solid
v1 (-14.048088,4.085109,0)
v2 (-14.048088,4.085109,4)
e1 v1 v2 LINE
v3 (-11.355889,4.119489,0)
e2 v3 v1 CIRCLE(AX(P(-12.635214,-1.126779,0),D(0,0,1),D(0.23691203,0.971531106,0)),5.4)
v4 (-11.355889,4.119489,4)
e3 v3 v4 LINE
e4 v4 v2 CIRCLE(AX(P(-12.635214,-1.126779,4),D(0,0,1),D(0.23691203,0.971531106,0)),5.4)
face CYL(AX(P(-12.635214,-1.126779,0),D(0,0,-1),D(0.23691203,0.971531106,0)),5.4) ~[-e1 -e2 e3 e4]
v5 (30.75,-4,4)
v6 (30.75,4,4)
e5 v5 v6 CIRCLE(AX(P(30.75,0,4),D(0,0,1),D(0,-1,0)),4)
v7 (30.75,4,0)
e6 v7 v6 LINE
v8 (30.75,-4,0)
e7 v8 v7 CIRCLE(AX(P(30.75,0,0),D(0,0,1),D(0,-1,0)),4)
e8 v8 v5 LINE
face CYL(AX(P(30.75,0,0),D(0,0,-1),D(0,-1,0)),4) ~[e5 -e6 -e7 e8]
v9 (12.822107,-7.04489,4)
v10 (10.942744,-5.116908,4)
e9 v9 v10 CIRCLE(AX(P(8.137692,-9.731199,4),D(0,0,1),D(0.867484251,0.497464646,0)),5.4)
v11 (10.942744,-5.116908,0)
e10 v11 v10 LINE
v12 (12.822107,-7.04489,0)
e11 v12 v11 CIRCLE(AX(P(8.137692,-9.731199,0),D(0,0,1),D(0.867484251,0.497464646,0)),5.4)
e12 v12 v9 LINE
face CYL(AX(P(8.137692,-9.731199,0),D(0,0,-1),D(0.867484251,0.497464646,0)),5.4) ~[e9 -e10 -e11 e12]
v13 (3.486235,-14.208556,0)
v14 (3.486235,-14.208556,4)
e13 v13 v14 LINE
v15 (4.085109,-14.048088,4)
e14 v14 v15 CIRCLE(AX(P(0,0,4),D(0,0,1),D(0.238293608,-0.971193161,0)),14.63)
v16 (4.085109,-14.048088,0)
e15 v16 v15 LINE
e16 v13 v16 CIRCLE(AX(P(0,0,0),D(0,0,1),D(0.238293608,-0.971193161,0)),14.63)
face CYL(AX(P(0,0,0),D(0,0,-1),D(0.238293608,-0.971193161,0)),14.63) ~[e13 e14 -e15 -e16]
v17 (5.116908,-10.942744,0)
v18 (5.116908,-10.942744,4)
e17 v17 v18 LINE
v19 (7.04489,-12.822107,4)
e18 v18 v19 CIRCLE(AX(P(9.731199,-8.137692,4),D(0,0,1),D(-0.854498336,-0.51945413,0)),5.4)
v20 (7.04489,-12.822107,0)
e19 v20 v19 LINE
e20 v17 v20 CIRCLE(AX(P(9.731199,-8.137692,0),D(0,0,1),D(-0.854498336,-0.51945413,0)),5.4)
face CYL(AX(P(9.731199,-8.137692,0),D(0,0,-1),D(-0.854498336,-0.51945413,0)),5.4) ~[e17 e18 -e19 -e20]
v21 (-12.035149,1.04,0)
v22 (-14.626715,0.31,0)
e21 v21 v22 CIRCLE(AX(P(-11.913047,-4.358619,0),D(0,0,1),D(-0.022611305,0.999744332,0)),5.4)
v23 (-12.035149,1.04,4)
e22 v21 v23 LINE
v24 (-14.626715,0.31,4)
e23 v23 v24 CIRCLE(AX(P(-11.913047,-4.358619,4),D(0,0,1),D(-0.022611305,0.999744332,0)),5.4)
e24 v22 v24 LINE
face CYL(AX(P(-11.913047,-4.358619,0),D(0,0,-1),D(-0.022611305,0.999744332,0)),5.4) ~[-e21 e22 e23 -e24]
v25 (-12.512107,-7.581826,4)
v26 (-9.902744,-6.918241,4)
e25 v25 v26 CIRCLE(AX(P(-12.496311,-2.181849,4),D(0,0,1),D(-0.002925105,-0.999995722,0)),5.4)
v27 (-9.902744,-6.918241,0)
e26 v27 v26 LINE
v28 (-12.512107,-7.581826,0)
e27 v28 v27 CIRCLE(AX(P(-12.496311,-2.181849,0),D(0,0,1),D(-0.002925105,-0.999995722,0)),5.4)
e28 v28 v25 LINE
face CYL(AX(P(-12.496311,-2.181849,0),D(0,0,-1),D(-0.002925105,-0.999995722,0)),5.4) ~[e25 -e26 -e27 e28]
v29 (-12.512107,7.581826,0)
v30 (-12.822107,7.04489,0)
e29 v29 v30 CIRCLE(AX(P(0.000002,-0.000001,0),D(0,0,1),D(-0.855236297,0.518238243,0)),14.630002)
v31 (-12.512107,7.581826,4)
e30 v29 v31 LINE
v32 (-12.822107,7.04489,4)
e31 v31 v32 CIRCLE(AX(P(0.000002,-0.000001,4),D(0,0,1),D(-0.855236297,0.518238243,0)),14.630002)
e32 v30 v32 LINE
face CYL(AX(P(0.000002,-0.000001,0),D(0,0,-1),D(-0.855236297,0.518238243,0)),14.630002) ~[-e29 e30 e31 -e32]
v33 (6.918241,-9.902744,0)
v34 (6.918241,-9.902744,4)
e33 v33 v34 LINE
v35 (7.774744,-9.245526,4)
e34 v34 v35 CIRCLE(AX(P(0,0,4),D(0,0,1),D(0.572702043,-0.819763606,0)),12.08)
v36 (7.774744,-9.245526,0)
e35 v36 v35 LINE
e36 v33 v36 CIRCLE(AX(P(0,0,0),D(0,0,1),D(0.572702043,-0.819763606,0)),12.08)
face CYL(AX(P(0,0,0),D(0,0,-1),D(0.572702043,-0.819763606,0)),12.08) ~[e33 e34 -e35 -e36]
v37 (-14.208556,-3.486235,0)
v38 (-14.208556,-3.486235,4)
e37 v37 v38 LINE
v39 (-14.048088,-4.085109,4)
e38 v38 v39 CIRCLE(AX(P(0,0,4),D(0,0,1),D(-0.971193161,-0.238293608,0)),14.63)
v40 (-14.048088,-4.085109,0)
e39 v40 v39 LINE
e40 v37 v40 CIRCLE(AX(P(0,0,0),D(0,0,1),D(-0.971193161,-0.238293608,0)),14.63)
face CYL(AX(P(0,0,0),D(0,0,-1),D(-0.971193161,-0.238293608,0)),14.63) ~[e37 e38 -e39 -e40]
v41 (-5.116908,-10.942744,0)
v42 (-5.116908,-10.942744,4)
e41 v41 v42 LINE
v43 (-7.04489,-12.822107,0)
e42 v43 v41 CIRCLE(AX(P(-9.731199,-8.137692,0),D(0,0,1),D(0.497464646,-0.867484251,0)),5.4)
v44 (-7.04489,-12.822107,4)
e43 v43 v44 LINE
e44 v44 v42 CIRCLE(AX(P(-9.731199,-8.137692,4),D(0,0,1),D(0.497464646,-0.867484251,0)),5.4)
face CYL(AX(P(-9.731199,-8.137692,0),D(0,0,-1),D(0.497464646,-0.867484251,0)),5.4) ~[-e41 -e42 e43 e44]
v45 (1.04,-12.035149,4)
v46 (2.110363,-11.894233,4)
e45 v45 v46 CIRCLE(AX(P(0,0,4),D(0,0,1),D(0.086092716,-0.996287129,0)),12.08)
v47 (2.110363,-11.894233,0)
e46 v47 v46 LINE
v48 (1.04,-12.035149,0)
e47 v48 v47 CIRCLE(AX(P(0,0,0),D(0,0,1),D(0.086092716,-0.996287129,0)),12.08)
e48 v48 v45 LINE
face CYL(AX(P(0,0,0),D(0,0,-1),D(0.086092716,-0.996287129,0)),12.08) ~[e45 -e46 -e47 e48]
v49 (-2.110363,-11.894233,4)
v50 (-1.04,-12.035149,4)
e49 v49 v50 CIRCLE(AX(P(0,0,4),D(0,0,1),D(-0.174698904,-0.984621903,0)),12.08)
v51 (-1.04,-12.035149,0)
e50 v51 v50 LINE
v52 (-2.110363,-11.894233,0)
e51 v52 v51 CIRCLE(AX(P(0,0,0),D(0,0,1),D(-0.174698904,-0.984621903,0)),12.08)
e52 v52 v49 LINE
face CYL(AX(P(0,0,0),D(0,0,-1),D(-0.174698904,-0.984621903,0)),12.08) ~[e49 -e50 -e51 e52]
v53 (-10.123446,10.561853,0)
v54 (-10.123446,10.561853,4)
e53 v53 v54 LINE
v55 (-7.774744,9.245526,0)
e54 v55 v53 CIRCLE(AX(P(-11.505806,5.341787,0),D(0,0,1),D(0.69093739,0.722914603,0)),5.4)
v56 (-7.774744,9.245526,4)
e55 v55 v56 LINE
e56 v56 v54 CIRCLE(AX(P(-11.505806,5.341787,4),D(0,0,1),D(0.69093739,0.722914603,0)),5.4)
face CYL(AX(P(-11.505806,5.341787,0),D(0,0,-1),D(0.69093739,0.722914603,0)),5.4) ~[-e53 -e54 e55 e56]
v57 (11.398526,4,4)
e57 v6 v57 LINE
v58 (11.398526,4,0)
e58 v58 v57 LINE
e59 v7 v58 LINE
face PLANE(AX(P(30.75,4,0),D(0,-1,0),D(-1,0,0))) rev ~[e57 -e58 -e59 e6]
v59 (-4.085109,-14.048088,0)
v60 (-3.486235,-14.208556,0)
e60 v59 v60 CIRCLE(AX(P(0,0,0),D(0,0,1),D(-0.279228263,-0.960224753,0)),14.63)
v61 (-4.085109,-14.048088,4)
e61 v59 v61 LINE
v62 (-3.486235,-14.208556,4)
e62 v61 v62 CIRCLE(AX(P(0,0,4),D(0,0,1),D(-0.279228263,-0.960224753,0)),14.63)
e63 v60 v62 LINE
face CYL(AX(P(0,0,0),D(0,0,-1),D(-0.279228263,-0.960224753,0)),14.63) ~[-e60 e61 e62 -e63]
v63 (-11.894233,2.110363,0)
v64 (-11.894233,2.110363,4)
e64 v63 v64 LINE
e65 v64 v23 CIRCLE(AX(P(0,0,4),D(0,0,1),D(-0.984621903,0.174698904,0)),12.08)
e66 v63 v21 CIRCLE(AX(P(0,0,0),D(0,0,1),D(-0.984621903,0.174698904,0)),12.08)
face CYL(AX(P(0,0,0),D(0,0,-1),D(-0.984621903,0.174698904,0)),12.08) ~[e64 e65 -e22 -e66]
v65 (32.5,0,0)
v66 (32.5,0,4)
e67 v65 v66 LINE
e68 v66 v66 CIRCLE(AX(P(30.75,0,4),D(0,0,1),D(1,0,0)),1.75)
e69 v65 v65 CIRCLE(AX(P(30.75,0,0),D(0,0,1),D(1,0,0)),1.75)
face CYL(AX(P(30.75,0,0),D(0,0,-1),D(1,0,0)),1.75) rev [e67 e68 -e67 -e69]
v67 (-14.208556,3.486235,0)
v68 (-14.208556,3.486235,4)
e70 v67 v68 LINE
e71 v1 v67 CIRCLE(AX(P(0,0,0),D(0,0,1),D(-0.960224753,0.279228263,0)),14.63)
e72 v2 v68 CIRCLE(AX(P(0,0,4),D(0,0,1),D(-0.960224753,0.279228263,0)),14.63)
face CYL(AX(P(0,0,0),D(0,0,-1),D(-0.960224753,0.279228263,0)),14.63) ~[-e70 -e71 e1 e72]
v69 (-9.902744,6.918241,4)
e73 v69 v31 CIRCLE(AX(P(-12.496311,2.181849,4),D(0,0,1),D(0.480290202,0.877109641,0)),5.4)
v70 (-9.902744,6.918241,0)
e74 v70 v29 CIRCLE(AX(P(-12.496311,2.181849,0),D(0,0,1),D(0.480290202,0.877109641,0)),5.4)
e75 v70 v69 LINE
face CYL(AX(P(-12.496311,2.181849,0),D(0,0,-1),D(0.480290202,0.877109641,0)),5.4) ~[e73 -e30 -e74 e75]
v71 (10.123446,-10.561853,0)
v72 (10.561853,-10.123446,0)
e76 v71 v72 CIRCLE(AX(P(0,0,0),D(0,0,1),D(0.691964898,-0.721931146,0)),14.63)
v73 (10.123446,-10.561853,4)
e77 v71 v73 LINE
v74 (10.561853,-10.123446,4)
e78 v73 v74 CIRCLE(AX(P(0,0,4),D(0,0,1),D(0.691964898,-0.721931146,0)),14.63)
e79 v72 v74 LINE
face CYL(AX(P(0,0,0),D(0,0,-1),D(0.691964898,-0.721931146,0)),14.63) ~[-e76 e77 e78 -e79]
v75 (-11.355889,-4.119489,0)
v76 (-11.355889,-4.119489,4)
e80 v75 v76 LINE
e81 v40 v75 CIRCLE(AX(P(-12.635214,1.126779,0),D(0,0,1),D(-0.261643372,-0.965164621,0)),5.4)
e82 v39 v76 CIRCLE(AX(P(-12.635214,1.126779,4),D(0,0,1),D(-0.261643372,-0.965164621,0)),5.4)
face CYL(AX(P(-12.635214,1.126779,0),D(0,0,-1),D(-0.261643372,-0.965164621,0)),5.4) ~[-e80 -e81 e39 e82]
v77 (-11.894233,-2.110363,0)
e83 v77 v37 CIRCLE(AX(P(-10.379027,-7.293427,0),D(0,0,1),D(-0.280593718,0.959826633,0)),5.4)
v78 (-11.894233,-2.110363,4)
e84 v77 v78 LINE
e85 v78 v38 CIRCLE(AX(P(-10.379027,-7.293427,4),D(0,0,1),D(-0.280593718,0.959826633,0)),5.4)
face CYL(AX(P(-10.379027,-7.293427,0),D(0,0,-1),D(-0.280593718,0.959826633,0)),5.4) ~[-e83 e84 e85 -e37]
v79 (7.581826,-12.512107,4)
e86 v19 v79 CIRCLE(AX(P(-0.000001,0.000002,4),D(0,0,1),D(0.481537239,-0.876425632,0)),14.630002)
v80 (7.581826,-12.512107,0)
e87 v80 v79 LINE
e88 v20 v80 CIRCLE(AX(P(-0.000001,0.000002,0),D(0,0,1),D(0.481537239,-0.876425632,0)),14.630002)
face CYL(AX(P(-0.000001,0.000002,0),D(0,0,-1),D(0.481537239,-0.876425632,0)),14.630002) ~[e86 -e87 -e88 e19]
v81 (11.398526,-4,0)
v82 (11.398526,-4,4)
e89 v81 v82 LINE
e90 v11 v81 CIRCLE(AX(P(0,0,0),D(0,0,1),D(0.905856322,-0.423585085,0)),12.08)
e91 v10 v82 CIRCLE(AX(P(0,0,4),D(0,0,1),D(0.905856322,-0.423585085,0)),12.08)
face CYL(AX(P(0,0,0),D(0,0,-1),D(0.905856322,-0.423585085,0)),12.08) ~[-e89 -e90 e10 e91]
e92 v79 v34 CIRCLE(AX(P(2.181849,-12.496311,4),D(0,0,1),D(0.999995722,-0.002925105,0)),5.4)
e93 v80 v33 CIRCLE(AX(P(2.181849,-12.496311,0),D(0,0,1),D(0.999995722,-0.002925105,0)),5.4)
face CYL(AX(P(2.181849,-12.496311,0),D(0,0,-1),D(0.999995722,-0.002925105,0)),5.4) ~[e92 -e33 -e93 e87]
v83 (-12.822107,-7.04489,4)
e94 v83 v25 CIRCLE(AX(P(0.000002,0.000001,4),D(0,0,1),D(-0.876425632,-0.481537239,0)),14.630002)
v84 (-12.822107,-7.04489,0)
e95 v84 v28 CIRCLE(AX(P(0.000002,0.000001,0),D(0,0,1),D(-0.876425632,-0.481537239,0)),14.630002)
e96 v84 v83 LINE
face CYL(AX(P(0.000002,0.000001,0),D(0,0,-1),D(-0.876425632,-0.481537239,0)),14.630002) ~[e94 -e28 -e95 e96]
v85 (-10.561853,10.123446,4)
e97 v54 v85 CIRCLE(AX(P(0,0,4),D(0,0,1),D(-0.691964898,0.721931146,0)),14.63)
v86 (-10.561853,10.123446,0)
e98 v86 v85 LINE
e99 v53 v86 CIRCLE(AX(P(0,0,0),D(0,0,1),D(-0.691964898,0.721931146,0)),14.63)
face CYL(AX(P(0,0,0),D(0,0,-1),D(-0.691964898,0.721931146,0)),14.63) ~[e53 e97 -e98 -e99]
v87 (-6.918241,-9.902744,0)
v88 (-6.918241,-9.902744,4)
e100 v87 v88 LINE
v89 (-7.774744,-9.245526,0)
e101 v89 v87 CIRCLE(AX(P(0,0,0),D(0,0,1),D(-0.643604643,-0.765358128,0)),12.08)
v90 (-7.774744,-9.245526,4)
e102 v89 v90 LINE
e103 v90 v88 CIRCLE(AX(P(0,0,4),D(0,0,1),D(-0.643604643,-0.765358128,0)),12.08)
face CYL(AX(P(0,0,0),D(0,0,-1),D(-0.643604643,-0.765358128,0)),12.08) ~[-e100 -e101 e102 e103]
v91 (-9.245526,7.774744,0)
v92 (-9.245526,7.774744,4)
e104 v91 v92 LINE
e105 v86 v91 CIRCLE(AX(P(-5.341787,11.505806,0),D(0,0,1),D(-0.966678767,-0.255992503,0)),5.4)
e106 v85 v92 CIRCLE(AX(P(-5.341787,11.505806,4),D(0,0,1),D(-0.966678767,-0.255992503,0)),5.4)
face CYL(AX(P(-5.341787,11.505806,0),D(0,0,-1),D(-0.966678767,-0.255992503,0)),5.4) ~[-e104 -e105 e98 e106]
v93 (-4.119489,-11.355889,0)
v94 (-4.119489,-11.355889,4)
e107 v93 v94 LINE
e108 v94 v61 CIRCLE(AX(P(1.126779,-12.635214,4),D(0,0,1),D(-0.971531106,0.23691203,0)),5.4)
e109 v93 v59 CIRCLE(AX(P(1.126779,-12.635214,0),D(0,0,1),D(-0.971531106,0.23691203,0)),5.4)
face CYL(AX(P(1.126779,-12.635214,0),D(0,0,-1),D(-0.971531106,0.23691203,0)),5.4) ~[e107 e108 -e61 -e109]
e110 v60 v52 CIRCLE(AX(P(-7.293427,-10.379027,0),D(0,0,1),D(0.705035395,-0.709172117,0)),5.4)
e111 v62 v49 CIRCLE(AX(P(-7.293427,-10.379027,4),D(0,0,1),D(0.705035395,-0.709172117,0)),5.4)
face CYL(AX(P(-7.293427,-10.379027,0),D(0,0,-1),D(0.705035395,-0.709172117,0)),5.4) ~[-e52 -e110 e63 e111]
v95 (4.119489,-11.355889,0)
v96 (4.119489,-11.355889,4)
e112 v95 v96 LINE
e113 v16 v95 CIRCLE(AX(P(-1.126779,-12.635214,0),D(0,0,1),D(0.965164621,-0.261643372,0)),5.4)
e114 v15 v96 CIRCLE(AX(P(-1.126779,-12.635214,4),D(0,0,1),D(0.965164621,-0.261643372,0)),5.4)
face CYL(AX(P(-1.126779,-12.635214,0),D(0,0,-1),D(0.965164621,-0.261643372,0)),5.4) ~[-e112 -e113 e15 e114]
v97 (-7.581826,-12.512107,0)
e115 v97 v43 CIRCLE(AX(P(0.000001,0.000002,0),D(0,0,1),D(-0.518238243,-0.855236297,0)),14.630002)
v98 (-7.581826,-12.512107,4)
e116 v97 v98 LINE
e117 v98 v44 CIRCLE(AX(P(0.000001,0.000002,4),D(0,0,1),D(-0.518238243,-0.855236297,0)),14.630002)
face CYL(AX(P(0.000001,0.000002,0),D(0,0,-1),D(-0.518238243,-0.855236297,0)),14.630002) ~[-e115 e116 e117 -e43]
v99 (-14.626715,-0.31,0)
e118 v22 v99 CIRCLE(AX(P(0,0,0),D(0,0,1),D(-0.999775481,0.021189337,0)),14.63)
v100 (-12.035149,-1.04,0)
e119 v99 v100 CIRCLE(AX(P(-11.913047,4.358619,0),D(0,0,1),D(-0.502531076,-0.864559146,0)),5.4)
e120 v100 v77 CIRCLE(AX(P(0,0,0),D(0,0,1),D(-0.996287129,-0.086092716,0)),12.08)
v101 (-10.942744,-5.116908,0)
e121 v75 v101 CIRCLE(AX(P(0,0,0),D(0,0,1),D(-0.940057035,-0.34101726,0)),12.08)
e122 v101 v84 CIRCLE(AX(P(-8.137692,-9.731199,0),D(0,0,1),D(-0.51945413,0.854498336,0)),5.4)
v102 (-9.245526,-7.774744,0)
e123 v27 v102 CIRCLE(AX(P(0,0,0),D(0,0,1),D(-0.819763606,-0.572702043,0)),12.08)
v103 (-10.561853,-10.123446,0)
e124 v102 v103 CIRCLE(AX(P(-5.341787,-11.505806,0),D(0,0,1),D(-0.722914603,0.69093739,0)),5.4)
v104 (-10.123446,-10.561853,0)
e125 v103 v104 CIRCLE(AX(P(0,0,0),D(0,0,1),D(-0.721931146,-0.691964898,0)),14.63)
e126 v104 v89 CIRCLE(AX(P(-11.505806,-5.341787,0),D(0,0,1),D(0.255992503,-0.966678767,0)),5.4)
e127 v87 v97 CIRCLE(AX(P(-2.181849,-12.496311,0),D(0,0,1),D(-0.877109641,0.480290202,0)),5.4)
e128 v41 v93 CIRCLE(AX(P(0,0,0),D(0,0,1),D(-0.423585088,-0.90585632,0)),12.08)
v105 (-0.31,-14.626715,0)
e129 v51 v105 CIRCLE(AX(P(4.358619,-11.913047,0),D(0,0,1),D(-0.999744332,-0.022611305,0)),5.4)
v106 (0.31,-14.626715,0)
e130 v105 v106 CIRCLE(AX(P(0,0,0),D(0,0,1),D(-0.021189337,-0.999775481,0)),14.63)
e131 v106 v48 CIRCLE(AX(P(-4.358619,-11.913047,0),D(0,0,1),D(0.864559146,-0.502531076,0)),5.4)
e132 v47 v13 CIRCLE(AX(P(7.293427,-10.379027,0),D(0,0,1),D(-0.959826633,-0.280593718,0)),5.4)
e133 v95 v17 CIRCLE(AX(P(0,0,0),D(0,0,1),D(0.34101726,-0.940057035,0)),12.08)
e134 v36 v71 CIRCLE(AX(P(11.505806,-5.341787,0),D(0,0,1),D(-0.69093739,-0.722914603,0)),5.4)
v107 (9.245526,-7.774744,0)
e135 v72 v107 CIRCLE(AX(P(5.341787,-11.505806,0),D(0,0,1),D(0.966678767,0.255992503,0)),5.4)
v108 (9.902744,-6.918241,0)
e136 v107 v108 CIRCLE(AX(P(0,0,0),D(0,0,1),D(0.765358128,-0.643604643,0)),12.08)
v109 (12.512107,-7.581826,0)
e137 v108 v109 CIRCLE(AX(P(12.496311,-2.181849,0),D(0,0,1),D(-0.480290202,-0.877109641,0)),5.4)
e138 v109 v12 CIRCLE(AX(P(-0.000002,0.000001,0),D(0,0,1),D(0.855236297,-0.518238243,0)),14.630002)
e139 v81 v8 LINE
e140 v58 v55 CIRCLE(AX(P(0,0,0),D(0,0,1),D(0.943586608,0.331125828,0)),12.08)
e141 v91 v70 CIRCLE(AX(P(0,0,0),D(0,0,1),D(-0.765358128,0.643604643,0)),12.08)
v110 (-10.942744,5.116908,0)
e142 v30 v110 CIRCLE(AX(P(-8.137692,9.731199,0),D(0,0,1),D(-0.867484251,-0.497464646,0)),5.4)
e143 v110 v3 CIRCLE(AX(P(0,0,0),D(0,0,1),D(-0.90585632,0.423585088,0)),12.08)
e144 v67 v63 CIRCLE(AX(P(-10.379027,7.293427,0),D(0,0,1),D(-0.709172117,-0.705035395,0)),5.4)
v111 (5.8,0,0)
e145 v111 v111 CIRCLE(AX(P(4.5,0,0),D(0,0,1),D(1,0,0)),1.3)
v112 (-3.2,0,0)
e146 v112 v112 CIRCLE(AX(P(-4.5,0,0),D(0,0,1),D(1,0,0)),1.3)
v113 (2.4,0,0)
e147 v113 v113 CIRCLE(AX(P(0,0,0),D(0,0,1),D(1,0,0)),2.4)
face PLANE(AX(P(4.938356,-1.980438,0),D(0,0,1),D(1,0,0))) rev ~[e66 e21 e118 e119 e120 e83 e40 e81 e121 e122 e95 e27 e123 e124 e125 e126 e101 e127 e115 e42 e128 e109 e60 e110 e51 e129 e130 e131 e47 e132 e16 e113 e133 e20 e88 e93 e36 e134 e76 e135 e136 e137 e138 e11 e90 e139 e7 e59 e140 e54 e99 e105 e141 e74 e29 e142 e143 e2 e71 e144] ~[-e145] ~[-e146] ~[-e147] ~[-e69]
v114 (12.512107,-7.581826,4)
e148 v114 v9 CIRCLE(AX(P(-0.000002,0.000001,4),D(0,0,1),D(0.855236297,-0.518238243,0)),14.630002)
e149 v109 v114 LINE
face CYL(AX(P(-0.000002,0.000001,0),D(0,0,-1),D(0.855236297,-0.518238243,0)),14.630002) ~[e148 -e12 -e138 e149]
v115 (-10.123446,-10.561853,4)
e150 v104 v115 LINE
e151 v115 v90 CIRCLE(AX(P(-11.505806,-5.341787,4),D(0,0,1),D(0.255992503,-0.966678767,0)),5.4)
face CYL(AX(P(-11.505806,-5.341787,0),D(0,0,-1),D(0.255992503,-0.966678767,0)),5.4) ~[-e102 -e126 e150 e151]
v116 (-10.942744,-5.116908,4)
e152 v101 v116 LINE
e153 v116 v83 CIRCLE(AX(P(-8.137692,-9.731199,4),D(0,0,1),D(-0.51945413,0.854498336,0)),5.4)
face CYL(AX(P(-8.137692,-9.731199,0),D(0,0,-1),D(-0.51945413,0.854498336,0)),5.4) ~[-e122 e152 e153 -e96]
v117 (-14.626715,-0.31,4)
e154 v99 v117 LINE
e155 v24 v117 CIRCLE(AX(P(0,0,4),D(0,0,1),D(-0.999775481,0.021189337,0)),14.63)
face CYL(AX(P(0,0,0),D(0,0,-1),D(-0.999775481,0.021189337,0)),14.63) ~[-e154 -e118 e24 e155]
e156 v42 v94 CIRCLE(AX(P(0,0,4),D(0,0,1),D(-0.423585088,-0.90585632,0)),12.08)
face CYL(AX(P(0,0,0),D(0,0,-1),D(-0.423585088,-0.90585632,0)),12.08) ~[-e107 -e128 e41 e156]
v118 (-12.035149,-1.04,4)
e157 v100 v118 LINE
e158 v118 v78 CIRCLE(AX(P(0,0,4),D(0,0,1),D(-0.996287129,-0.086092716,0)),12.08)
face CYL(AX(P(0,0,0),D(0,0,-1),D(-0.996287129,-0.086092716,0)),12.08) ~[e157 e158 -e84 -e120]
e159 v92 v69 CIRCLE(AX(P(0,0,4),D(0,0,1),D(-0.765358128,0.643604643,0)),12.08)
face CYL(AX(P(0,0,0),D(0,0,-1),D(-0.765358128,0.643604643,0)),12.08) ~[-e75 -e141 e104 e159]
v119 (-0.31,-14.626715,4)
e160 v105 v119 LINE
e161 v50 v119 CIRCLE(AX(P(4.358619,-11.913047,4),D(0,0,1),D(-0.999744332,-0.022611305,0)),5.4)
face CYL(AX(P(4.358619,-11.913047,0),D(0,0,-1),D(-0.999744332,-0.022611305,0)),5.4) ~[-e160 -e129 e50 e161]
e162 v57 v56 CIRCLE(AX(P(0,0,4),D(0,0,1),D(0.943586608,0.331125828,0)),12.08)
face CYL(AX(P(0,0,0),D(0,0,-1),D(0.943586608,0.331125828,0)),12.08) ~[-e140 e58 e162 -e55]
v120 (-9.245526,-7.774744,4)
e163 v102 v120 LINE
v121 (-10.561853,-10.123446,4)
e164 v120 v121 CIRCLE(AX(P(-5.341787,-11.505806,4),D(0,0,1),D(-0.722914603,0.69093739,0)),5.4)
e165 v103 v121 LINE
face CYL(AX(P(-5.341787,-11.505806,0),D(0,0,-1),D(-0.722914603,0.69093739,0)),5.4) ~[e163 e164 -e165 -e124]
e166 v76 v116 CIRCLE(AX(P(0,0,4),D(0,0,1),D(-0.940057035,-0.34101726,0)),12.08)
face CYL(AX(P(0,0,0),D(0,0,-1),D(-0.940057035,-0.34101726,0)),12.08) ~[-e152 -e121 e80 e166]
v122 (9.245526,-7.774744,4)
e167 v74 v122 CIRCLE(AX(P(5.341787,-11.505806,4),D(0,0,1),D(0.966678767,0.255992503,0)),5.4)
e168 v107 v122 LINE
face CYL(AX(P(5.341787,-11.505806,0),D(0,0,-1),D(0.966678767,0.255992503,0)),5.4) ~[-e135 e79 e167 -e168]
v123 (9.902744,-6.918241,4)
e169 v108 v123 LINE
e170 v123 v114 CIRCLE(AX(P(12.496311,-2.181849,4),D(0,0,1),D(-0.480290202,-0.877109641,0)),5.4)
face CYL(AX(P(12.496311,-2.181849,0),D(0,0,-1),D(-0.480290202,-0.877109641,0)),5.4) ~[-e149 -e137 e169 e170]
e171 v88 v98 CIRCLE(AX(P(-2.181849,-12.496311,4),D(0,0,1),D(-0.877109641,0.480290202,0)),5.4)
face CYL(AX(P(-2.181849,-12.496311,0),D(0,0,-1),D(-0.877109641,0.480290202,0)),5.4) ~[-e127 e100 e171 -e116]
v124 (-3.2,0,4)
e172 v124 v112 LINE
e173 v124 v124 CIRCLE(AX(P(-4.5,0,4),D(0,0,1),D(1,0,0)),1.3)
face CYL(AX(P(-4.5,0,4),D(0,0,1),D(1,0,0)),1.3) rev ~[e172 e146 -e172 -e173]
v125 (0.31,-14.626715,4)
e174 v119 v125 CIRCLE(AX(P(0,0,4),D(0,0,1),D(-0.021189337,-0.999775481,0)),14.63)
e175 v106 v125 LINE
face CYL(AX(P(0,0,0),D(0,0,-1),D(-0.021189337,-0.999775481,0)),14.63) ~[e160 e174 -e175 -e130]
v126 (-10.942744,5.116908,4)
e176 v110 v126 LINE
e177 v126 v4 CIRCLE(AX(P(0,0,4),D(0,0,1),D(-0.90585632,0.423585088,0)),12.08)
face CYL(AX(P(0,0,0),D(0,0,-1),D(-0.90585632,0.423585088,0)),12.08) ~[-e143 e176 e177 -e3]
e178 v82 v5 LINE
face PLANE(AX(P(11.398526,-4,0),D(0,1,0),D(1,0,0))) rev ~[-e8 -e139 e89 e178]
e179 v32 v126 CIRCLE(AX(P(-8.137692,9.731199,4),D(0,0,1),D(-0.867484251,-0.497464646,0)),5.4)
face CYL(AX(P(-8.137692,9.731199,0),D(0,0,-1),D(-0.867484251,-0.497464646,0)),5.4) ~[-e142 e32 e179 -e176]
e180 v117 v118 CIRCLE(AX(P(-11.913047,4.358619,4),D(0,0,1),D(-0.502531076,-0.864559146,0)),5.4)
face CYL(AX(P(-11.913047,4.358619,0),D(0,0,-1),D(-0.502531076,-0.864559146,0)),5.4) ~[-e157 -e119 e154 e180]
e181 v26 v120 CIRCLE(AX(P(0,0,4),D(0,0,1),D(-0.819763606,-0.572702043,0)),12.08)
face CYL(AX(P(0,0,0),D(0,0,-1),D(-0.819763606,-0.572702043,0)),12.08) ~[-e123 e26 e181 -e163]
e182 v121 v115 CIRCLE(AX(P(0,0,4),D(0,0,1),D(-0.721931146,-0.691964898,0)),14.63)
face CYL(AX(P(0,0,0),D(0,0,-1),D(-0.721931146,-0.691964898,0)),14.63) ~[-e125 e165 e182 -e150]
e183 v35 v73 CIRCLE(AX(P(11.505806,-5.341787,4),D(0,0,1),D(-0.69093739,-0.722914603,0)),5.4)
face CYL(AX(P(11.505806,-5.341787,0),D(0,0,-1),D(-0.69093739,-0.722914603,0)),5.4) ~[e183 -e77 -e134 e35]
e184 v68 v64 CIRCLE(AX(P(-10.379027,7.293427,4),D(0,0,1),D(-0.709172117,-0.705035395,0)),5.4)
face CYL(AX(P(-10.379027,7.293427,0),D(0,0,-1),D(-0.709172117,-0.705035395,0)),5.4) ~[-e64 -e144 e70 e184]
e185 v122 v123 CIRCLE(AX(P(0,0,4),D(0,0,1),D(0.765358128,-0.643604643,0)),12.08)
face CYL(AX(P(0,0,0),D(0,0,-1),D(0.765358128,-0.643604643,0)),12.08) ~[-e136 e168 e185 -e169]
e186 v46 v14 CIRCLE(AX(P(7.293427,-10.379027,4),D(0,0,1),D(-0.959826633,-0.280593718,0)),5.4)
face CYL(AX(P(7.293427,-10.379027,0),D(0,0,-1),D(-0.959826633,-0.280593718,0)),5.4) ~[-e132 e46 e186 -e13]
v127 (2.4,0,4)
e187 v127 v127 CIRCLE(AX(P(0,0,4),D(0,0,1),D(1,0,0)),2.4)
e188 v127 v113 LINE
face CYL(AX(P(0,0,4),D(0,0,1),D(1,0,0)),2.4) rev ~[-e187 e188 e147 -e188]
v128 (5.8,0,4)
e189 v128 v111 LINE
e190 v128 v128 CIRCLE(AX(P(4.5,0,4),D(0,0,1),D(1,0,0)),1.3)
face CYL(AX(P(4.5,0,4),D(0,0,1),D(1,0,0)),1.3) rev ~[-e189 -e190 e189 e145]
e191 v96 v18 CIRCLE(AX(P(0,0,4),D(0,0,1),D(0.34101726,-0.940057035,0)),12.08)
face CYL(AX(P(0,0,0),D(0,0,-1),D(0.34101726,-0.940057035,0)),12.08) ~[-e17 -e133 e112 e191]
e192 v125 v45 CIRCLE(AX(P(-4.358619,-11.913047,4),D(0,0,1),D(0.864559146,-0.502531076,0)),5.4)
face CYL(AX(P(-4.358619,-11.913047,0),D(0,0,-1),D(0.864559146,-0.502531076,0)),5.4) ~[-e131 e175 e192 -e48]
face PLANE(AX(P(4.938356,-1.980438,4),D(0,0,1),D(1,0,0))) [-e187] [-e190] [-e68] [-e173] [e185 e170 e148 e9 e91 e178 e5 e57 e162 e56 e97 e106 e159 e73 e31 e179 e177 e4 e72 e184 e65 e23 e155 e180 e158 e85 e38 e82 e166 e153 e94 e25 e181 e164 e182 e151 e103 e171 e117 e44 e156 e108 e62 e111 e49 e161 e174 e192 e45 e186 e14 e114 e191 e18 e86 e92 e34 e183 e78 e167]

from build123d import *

# Parameters (mm, degrees)
SKETCH1_R           = 1.75
BOSS_EXTRUDE3_DEPTH = 4
SKETCH3_R           = 1.3
SKETCH3_R_2         = 2.4
CUT_EXTRUDE1_DEPTH  = 38.915688046


with BuildPart() as part:
    # Sketch1 → Boss-Extrude3 (new body)
    with BuildSketch(Plane.XY):
        with BuildLine():
            ThreePointArc((11.398526221, 4), (3.187763399, 11.651805204), (-7.774744082, 9.245526186))
            ThreePointArc((-7.774744082, 9.245526186), (-8.865739978, 10.052419077), (-10.123446462, 10.561852666))
            ThreePointArc((-10.123446462, 10.561852666), (-10.344972209, 10.344972209), (-10.561852666, 10.123446462))
            ThreePointArc((-10.561852666, 10.123446462), (-10.052419077, 8.865739978), (-9.245526186, 7.774744082))
            ThreePointArc((-9.245526186, 7.774744082), (-9.583708351, 7.353838062), (-9.90274436, 6.918240682))
            ThreePointArc((-9.90274436, 6.918240682), (-11.16540472, 7.415268848), (-12.51210701, 7.581825517))
            ThreePointArc((-12.51210701, 7.581825517), (-12.669951657, 7.315), (-12.82210701, 7.044889767))
            ThreePointArc((-12.82210701, 7.044889767), (-12.004513558, 5.961889707), (-10.94274436, 5.116907842))
            ThreePointArc((-10.94274436, 5.116907842), (-11.160464753, 4.622815863), (-11.355888976, 4.119488508))
            ThreePointArc((-11.355888976, 4.119488508), (-12.704165582, 4.272780301), (-14.048088143, 4.085109489))
            ThreePointArc((-14.048088143, 4.085109489), (-14.131494839, 3.78652263), (-14.208555951, 3.486235477))
            ThreePointArc((-14.208555951, 3.486235477), (-13.138520279, 2.651746506), (-11.89423259, 2.110362789))
            ThreePointArc((-11.89423259, 2.110362789), (-11.976653925, 1.576756402), (-12.035148524, 1.04))
            ThreePointArc((-12.035148524, 1.04), (-13.377158555, 0.839108838), (-14.626715284, 0.31))
            ThreePointArc((-14.626715284, 0.31), (-14.63, 0), (-14.626715284, -0.31))
            ThreePointArc((-14.626715284, -0.31), (-13.377158555, -0.839108838), (-12.035148524, -1.04))
            ThreePointArc((-12.035148524, -1.04), (-11.976653925, -1.576756402), (-11.89423259, -2.110362789))
            ThreePointArc((-11.89423259, -2.110362789), (-13.138520279, -2.651746506), (-14.208555951, -3.486235477))
            ThreePointArc((-14.208555951, -3.486235477), (-14.131494839, -3.78652263), (-14.048088143, -4.085109489))
            ThreePointArc((-14.048088143, -4.085109489), (-12.704165582, -4.272780301), (-11.355888976, -4.119488508))
            ThreePointArc((-11.355888976, -4.119488508), (-11.160464753, -4.622815863), (-10.94274436, -5.116907842))
            ThreePointArc((-10.94274436, -5.116907842), (-12.004513558, -5.961889707), (-12.82210701, -7.044889767))
            ThreePointArc((-12.82210701, -7.044889767), (-12.669951657, -7.315), (-12.51210701, -7.581825517))
            ThreePointArc((-12.51210701, -7.581825517), (-11.16540472, -7.415268848), (-9.90274436, -6.918240682))
            ThreePointArc((-9.90274436, -6.918240682), (-9.583708351, -7.353838062), (-9.245526186, -7.774744082))
            ThreePointArc((-9.245526186, -7.774744082), (-10.052419077, -8.865739978), (-10.561852666, -10.123446462))
            ThreePointArc((-10.561852666, -10.123446462), (-10.344972209, -10.344972209), (-10.123446462, -10.561852666))
            ThreePointArc((-10.123446462, -10.561852666), (-8.865739978, -10.052419077), (-7.774744082, -9.245526186))
            ThreePointArc((-7.774744082, -9.245526186), (-7.353838062, -9.583708351), (-6.918240682, -9.90274436))
            ThreePointArc((-6.918240682, -9.90274436), (-7.415268848, -11.16540472), (-7.581825517, -12.51210701))
            ThreePointArc((-7.581825517, -12.51210701), (-7.315, -12.669951657), (-7.044889767, -12.82210701))
            ThreePointArc((-7.044889767, -12.82210701), (-5.961889707, -12.004513558), (-5.116907842, -10.94274436))
            ThreePointArc((-5.116907842, -10.94274436), (-4.622815863, -11.160464753), (-4.119488508, -11.355888976))
            ThreePointArc((-4.119488508, -11.355888976), (-4.272780301, -12.704165582), (-4.085109489, -14.048088143))
            ThreePointArc((-4.085109489, -14.048088143), (-3.78652263, -14.131494839), (-3.486235477, -14.208555951))
            ThreePointArc((-3.486235477, -14.208555951), (-2.651746506, -13.138520279), (-2.110362789, -11.89423259))
            ThreePointArc((-2.110362789, -11.89423259), (-1.576756402, -11.976653925), (-1.04, -12.035148524))
            ThreePointArc((-1.04, -12.035148524), (-0.839108838, -13.377158555), (-0.31, -14.626715284))
            ThreePointArc((-0.31, -14.626715284), (0, -14.63), (0.31, -14.626715284))
            ThreePointArc((0.31, -14.626715284), (0.839108838, -13.377158555), (1.04, -12.035148524))
            ThreePointArc((1.04, -12.035148524), (1.576756402, -11.976653925), (2.110362789, -11.89423259))
            ThreePointArc((2.110362789, -11.89423259), (2.651746506, -13.138520279), (3.486235477, -14.208555951))
            ThreePointArc((3.486235477, -14.208555951), (3.78652263, -14.131494839), (4.085109489, -14.048088143))
            ThreePointArc((4.085109489, -14.048088143), (4.272780301, -12.704165582), (4.119488508, -11.355888976))
            ThreePointArc((4.119488508, -11.355888976), (4.622815863, -11.160464753), (5.116907842, -10.94274436))
            ThreePointArc((5.116907842, -10.94274436), (5.961889707, -12.004513558), (7.044889767, -12.82210701))
            ThreePointArc((7.044889767, -12.82210701), (7.315, -12.669951657), (7.581825517, -12.51210701))
            ThreePointArc((7.581825517, -12.51210701), (7.415268848, -11.16540472), (6.918240682, -9.90274436))
            ThreePointArc((6.918240682, -9.90274436), (7.353838062, -9.583708351), (7.774744082, -9.245526186))
            ThreePointArc((7.774744082, -9.245526186), (8.865739978, -10.052419077), (10.123446462, -10.561852666))
            ThreePointArc((10.123446462, -10.561852666), (10.344972209, -10.344972209), (10.561852666, -10.123446462))
            ThreePointArc((10.561852666, -10.123446462), (10.052419077, -8.865739978), (9.245526186, -7.774744082))
            ThreePointArc((9.245526186, -7.774744082), (9.583708351, -7.353838062), (9.90274436, -6.918240682))
            ThreePointArc((9.90274436, -6.918240682), (11.16540472, -7.415268848), (12.51210701, -7.581825517))
            ThreePointArc((12.51210701, -7.581825517), (12.669951657, -7.315), (12.82210701, -7.044889767))
            ThreePointArc((12.82210701, -7.044889767), (12.004513558, -5.961889707), (10.94274436, -5.116907842))
            ThreePointArc((10.94274436, -5.116907842), (11.184585981, -4.564146845), (11.398526221, -4))
            Line((11.398526221, -4), (30.75, -4))
            ThreePointArc((30.75, -4), (34.75, 0), (30.75, 4))
            Line((30.75, 4), (11.398526221, 4))
        make_face()
        Circle(SKETCH1_R, mode=Mode.SUBTRACT)
        with Locations((30.75, 0)):
            Circle(SKETCH1_R, mode=Mode.SUBTRACT)
    extrude(amount=BOSS_EXTRUDE3_DEPTH)

    # Sketch3 → Cut-Extrude1 (cut, through all)
    with BuildSketch(Plane.XY.offset(4)):
        with Locations((4.5, 0)):
            Circle(SKETCH3_R)
        with Locations((-4.5, 0)):
            Circle(SKETCH3_R)
        Circle(SKETCH3_R_2)
    extrude(amount=-CUT_EXTRUDE1_DEPTH, mode=Mode.SUBTRACT)


solid = part.part
